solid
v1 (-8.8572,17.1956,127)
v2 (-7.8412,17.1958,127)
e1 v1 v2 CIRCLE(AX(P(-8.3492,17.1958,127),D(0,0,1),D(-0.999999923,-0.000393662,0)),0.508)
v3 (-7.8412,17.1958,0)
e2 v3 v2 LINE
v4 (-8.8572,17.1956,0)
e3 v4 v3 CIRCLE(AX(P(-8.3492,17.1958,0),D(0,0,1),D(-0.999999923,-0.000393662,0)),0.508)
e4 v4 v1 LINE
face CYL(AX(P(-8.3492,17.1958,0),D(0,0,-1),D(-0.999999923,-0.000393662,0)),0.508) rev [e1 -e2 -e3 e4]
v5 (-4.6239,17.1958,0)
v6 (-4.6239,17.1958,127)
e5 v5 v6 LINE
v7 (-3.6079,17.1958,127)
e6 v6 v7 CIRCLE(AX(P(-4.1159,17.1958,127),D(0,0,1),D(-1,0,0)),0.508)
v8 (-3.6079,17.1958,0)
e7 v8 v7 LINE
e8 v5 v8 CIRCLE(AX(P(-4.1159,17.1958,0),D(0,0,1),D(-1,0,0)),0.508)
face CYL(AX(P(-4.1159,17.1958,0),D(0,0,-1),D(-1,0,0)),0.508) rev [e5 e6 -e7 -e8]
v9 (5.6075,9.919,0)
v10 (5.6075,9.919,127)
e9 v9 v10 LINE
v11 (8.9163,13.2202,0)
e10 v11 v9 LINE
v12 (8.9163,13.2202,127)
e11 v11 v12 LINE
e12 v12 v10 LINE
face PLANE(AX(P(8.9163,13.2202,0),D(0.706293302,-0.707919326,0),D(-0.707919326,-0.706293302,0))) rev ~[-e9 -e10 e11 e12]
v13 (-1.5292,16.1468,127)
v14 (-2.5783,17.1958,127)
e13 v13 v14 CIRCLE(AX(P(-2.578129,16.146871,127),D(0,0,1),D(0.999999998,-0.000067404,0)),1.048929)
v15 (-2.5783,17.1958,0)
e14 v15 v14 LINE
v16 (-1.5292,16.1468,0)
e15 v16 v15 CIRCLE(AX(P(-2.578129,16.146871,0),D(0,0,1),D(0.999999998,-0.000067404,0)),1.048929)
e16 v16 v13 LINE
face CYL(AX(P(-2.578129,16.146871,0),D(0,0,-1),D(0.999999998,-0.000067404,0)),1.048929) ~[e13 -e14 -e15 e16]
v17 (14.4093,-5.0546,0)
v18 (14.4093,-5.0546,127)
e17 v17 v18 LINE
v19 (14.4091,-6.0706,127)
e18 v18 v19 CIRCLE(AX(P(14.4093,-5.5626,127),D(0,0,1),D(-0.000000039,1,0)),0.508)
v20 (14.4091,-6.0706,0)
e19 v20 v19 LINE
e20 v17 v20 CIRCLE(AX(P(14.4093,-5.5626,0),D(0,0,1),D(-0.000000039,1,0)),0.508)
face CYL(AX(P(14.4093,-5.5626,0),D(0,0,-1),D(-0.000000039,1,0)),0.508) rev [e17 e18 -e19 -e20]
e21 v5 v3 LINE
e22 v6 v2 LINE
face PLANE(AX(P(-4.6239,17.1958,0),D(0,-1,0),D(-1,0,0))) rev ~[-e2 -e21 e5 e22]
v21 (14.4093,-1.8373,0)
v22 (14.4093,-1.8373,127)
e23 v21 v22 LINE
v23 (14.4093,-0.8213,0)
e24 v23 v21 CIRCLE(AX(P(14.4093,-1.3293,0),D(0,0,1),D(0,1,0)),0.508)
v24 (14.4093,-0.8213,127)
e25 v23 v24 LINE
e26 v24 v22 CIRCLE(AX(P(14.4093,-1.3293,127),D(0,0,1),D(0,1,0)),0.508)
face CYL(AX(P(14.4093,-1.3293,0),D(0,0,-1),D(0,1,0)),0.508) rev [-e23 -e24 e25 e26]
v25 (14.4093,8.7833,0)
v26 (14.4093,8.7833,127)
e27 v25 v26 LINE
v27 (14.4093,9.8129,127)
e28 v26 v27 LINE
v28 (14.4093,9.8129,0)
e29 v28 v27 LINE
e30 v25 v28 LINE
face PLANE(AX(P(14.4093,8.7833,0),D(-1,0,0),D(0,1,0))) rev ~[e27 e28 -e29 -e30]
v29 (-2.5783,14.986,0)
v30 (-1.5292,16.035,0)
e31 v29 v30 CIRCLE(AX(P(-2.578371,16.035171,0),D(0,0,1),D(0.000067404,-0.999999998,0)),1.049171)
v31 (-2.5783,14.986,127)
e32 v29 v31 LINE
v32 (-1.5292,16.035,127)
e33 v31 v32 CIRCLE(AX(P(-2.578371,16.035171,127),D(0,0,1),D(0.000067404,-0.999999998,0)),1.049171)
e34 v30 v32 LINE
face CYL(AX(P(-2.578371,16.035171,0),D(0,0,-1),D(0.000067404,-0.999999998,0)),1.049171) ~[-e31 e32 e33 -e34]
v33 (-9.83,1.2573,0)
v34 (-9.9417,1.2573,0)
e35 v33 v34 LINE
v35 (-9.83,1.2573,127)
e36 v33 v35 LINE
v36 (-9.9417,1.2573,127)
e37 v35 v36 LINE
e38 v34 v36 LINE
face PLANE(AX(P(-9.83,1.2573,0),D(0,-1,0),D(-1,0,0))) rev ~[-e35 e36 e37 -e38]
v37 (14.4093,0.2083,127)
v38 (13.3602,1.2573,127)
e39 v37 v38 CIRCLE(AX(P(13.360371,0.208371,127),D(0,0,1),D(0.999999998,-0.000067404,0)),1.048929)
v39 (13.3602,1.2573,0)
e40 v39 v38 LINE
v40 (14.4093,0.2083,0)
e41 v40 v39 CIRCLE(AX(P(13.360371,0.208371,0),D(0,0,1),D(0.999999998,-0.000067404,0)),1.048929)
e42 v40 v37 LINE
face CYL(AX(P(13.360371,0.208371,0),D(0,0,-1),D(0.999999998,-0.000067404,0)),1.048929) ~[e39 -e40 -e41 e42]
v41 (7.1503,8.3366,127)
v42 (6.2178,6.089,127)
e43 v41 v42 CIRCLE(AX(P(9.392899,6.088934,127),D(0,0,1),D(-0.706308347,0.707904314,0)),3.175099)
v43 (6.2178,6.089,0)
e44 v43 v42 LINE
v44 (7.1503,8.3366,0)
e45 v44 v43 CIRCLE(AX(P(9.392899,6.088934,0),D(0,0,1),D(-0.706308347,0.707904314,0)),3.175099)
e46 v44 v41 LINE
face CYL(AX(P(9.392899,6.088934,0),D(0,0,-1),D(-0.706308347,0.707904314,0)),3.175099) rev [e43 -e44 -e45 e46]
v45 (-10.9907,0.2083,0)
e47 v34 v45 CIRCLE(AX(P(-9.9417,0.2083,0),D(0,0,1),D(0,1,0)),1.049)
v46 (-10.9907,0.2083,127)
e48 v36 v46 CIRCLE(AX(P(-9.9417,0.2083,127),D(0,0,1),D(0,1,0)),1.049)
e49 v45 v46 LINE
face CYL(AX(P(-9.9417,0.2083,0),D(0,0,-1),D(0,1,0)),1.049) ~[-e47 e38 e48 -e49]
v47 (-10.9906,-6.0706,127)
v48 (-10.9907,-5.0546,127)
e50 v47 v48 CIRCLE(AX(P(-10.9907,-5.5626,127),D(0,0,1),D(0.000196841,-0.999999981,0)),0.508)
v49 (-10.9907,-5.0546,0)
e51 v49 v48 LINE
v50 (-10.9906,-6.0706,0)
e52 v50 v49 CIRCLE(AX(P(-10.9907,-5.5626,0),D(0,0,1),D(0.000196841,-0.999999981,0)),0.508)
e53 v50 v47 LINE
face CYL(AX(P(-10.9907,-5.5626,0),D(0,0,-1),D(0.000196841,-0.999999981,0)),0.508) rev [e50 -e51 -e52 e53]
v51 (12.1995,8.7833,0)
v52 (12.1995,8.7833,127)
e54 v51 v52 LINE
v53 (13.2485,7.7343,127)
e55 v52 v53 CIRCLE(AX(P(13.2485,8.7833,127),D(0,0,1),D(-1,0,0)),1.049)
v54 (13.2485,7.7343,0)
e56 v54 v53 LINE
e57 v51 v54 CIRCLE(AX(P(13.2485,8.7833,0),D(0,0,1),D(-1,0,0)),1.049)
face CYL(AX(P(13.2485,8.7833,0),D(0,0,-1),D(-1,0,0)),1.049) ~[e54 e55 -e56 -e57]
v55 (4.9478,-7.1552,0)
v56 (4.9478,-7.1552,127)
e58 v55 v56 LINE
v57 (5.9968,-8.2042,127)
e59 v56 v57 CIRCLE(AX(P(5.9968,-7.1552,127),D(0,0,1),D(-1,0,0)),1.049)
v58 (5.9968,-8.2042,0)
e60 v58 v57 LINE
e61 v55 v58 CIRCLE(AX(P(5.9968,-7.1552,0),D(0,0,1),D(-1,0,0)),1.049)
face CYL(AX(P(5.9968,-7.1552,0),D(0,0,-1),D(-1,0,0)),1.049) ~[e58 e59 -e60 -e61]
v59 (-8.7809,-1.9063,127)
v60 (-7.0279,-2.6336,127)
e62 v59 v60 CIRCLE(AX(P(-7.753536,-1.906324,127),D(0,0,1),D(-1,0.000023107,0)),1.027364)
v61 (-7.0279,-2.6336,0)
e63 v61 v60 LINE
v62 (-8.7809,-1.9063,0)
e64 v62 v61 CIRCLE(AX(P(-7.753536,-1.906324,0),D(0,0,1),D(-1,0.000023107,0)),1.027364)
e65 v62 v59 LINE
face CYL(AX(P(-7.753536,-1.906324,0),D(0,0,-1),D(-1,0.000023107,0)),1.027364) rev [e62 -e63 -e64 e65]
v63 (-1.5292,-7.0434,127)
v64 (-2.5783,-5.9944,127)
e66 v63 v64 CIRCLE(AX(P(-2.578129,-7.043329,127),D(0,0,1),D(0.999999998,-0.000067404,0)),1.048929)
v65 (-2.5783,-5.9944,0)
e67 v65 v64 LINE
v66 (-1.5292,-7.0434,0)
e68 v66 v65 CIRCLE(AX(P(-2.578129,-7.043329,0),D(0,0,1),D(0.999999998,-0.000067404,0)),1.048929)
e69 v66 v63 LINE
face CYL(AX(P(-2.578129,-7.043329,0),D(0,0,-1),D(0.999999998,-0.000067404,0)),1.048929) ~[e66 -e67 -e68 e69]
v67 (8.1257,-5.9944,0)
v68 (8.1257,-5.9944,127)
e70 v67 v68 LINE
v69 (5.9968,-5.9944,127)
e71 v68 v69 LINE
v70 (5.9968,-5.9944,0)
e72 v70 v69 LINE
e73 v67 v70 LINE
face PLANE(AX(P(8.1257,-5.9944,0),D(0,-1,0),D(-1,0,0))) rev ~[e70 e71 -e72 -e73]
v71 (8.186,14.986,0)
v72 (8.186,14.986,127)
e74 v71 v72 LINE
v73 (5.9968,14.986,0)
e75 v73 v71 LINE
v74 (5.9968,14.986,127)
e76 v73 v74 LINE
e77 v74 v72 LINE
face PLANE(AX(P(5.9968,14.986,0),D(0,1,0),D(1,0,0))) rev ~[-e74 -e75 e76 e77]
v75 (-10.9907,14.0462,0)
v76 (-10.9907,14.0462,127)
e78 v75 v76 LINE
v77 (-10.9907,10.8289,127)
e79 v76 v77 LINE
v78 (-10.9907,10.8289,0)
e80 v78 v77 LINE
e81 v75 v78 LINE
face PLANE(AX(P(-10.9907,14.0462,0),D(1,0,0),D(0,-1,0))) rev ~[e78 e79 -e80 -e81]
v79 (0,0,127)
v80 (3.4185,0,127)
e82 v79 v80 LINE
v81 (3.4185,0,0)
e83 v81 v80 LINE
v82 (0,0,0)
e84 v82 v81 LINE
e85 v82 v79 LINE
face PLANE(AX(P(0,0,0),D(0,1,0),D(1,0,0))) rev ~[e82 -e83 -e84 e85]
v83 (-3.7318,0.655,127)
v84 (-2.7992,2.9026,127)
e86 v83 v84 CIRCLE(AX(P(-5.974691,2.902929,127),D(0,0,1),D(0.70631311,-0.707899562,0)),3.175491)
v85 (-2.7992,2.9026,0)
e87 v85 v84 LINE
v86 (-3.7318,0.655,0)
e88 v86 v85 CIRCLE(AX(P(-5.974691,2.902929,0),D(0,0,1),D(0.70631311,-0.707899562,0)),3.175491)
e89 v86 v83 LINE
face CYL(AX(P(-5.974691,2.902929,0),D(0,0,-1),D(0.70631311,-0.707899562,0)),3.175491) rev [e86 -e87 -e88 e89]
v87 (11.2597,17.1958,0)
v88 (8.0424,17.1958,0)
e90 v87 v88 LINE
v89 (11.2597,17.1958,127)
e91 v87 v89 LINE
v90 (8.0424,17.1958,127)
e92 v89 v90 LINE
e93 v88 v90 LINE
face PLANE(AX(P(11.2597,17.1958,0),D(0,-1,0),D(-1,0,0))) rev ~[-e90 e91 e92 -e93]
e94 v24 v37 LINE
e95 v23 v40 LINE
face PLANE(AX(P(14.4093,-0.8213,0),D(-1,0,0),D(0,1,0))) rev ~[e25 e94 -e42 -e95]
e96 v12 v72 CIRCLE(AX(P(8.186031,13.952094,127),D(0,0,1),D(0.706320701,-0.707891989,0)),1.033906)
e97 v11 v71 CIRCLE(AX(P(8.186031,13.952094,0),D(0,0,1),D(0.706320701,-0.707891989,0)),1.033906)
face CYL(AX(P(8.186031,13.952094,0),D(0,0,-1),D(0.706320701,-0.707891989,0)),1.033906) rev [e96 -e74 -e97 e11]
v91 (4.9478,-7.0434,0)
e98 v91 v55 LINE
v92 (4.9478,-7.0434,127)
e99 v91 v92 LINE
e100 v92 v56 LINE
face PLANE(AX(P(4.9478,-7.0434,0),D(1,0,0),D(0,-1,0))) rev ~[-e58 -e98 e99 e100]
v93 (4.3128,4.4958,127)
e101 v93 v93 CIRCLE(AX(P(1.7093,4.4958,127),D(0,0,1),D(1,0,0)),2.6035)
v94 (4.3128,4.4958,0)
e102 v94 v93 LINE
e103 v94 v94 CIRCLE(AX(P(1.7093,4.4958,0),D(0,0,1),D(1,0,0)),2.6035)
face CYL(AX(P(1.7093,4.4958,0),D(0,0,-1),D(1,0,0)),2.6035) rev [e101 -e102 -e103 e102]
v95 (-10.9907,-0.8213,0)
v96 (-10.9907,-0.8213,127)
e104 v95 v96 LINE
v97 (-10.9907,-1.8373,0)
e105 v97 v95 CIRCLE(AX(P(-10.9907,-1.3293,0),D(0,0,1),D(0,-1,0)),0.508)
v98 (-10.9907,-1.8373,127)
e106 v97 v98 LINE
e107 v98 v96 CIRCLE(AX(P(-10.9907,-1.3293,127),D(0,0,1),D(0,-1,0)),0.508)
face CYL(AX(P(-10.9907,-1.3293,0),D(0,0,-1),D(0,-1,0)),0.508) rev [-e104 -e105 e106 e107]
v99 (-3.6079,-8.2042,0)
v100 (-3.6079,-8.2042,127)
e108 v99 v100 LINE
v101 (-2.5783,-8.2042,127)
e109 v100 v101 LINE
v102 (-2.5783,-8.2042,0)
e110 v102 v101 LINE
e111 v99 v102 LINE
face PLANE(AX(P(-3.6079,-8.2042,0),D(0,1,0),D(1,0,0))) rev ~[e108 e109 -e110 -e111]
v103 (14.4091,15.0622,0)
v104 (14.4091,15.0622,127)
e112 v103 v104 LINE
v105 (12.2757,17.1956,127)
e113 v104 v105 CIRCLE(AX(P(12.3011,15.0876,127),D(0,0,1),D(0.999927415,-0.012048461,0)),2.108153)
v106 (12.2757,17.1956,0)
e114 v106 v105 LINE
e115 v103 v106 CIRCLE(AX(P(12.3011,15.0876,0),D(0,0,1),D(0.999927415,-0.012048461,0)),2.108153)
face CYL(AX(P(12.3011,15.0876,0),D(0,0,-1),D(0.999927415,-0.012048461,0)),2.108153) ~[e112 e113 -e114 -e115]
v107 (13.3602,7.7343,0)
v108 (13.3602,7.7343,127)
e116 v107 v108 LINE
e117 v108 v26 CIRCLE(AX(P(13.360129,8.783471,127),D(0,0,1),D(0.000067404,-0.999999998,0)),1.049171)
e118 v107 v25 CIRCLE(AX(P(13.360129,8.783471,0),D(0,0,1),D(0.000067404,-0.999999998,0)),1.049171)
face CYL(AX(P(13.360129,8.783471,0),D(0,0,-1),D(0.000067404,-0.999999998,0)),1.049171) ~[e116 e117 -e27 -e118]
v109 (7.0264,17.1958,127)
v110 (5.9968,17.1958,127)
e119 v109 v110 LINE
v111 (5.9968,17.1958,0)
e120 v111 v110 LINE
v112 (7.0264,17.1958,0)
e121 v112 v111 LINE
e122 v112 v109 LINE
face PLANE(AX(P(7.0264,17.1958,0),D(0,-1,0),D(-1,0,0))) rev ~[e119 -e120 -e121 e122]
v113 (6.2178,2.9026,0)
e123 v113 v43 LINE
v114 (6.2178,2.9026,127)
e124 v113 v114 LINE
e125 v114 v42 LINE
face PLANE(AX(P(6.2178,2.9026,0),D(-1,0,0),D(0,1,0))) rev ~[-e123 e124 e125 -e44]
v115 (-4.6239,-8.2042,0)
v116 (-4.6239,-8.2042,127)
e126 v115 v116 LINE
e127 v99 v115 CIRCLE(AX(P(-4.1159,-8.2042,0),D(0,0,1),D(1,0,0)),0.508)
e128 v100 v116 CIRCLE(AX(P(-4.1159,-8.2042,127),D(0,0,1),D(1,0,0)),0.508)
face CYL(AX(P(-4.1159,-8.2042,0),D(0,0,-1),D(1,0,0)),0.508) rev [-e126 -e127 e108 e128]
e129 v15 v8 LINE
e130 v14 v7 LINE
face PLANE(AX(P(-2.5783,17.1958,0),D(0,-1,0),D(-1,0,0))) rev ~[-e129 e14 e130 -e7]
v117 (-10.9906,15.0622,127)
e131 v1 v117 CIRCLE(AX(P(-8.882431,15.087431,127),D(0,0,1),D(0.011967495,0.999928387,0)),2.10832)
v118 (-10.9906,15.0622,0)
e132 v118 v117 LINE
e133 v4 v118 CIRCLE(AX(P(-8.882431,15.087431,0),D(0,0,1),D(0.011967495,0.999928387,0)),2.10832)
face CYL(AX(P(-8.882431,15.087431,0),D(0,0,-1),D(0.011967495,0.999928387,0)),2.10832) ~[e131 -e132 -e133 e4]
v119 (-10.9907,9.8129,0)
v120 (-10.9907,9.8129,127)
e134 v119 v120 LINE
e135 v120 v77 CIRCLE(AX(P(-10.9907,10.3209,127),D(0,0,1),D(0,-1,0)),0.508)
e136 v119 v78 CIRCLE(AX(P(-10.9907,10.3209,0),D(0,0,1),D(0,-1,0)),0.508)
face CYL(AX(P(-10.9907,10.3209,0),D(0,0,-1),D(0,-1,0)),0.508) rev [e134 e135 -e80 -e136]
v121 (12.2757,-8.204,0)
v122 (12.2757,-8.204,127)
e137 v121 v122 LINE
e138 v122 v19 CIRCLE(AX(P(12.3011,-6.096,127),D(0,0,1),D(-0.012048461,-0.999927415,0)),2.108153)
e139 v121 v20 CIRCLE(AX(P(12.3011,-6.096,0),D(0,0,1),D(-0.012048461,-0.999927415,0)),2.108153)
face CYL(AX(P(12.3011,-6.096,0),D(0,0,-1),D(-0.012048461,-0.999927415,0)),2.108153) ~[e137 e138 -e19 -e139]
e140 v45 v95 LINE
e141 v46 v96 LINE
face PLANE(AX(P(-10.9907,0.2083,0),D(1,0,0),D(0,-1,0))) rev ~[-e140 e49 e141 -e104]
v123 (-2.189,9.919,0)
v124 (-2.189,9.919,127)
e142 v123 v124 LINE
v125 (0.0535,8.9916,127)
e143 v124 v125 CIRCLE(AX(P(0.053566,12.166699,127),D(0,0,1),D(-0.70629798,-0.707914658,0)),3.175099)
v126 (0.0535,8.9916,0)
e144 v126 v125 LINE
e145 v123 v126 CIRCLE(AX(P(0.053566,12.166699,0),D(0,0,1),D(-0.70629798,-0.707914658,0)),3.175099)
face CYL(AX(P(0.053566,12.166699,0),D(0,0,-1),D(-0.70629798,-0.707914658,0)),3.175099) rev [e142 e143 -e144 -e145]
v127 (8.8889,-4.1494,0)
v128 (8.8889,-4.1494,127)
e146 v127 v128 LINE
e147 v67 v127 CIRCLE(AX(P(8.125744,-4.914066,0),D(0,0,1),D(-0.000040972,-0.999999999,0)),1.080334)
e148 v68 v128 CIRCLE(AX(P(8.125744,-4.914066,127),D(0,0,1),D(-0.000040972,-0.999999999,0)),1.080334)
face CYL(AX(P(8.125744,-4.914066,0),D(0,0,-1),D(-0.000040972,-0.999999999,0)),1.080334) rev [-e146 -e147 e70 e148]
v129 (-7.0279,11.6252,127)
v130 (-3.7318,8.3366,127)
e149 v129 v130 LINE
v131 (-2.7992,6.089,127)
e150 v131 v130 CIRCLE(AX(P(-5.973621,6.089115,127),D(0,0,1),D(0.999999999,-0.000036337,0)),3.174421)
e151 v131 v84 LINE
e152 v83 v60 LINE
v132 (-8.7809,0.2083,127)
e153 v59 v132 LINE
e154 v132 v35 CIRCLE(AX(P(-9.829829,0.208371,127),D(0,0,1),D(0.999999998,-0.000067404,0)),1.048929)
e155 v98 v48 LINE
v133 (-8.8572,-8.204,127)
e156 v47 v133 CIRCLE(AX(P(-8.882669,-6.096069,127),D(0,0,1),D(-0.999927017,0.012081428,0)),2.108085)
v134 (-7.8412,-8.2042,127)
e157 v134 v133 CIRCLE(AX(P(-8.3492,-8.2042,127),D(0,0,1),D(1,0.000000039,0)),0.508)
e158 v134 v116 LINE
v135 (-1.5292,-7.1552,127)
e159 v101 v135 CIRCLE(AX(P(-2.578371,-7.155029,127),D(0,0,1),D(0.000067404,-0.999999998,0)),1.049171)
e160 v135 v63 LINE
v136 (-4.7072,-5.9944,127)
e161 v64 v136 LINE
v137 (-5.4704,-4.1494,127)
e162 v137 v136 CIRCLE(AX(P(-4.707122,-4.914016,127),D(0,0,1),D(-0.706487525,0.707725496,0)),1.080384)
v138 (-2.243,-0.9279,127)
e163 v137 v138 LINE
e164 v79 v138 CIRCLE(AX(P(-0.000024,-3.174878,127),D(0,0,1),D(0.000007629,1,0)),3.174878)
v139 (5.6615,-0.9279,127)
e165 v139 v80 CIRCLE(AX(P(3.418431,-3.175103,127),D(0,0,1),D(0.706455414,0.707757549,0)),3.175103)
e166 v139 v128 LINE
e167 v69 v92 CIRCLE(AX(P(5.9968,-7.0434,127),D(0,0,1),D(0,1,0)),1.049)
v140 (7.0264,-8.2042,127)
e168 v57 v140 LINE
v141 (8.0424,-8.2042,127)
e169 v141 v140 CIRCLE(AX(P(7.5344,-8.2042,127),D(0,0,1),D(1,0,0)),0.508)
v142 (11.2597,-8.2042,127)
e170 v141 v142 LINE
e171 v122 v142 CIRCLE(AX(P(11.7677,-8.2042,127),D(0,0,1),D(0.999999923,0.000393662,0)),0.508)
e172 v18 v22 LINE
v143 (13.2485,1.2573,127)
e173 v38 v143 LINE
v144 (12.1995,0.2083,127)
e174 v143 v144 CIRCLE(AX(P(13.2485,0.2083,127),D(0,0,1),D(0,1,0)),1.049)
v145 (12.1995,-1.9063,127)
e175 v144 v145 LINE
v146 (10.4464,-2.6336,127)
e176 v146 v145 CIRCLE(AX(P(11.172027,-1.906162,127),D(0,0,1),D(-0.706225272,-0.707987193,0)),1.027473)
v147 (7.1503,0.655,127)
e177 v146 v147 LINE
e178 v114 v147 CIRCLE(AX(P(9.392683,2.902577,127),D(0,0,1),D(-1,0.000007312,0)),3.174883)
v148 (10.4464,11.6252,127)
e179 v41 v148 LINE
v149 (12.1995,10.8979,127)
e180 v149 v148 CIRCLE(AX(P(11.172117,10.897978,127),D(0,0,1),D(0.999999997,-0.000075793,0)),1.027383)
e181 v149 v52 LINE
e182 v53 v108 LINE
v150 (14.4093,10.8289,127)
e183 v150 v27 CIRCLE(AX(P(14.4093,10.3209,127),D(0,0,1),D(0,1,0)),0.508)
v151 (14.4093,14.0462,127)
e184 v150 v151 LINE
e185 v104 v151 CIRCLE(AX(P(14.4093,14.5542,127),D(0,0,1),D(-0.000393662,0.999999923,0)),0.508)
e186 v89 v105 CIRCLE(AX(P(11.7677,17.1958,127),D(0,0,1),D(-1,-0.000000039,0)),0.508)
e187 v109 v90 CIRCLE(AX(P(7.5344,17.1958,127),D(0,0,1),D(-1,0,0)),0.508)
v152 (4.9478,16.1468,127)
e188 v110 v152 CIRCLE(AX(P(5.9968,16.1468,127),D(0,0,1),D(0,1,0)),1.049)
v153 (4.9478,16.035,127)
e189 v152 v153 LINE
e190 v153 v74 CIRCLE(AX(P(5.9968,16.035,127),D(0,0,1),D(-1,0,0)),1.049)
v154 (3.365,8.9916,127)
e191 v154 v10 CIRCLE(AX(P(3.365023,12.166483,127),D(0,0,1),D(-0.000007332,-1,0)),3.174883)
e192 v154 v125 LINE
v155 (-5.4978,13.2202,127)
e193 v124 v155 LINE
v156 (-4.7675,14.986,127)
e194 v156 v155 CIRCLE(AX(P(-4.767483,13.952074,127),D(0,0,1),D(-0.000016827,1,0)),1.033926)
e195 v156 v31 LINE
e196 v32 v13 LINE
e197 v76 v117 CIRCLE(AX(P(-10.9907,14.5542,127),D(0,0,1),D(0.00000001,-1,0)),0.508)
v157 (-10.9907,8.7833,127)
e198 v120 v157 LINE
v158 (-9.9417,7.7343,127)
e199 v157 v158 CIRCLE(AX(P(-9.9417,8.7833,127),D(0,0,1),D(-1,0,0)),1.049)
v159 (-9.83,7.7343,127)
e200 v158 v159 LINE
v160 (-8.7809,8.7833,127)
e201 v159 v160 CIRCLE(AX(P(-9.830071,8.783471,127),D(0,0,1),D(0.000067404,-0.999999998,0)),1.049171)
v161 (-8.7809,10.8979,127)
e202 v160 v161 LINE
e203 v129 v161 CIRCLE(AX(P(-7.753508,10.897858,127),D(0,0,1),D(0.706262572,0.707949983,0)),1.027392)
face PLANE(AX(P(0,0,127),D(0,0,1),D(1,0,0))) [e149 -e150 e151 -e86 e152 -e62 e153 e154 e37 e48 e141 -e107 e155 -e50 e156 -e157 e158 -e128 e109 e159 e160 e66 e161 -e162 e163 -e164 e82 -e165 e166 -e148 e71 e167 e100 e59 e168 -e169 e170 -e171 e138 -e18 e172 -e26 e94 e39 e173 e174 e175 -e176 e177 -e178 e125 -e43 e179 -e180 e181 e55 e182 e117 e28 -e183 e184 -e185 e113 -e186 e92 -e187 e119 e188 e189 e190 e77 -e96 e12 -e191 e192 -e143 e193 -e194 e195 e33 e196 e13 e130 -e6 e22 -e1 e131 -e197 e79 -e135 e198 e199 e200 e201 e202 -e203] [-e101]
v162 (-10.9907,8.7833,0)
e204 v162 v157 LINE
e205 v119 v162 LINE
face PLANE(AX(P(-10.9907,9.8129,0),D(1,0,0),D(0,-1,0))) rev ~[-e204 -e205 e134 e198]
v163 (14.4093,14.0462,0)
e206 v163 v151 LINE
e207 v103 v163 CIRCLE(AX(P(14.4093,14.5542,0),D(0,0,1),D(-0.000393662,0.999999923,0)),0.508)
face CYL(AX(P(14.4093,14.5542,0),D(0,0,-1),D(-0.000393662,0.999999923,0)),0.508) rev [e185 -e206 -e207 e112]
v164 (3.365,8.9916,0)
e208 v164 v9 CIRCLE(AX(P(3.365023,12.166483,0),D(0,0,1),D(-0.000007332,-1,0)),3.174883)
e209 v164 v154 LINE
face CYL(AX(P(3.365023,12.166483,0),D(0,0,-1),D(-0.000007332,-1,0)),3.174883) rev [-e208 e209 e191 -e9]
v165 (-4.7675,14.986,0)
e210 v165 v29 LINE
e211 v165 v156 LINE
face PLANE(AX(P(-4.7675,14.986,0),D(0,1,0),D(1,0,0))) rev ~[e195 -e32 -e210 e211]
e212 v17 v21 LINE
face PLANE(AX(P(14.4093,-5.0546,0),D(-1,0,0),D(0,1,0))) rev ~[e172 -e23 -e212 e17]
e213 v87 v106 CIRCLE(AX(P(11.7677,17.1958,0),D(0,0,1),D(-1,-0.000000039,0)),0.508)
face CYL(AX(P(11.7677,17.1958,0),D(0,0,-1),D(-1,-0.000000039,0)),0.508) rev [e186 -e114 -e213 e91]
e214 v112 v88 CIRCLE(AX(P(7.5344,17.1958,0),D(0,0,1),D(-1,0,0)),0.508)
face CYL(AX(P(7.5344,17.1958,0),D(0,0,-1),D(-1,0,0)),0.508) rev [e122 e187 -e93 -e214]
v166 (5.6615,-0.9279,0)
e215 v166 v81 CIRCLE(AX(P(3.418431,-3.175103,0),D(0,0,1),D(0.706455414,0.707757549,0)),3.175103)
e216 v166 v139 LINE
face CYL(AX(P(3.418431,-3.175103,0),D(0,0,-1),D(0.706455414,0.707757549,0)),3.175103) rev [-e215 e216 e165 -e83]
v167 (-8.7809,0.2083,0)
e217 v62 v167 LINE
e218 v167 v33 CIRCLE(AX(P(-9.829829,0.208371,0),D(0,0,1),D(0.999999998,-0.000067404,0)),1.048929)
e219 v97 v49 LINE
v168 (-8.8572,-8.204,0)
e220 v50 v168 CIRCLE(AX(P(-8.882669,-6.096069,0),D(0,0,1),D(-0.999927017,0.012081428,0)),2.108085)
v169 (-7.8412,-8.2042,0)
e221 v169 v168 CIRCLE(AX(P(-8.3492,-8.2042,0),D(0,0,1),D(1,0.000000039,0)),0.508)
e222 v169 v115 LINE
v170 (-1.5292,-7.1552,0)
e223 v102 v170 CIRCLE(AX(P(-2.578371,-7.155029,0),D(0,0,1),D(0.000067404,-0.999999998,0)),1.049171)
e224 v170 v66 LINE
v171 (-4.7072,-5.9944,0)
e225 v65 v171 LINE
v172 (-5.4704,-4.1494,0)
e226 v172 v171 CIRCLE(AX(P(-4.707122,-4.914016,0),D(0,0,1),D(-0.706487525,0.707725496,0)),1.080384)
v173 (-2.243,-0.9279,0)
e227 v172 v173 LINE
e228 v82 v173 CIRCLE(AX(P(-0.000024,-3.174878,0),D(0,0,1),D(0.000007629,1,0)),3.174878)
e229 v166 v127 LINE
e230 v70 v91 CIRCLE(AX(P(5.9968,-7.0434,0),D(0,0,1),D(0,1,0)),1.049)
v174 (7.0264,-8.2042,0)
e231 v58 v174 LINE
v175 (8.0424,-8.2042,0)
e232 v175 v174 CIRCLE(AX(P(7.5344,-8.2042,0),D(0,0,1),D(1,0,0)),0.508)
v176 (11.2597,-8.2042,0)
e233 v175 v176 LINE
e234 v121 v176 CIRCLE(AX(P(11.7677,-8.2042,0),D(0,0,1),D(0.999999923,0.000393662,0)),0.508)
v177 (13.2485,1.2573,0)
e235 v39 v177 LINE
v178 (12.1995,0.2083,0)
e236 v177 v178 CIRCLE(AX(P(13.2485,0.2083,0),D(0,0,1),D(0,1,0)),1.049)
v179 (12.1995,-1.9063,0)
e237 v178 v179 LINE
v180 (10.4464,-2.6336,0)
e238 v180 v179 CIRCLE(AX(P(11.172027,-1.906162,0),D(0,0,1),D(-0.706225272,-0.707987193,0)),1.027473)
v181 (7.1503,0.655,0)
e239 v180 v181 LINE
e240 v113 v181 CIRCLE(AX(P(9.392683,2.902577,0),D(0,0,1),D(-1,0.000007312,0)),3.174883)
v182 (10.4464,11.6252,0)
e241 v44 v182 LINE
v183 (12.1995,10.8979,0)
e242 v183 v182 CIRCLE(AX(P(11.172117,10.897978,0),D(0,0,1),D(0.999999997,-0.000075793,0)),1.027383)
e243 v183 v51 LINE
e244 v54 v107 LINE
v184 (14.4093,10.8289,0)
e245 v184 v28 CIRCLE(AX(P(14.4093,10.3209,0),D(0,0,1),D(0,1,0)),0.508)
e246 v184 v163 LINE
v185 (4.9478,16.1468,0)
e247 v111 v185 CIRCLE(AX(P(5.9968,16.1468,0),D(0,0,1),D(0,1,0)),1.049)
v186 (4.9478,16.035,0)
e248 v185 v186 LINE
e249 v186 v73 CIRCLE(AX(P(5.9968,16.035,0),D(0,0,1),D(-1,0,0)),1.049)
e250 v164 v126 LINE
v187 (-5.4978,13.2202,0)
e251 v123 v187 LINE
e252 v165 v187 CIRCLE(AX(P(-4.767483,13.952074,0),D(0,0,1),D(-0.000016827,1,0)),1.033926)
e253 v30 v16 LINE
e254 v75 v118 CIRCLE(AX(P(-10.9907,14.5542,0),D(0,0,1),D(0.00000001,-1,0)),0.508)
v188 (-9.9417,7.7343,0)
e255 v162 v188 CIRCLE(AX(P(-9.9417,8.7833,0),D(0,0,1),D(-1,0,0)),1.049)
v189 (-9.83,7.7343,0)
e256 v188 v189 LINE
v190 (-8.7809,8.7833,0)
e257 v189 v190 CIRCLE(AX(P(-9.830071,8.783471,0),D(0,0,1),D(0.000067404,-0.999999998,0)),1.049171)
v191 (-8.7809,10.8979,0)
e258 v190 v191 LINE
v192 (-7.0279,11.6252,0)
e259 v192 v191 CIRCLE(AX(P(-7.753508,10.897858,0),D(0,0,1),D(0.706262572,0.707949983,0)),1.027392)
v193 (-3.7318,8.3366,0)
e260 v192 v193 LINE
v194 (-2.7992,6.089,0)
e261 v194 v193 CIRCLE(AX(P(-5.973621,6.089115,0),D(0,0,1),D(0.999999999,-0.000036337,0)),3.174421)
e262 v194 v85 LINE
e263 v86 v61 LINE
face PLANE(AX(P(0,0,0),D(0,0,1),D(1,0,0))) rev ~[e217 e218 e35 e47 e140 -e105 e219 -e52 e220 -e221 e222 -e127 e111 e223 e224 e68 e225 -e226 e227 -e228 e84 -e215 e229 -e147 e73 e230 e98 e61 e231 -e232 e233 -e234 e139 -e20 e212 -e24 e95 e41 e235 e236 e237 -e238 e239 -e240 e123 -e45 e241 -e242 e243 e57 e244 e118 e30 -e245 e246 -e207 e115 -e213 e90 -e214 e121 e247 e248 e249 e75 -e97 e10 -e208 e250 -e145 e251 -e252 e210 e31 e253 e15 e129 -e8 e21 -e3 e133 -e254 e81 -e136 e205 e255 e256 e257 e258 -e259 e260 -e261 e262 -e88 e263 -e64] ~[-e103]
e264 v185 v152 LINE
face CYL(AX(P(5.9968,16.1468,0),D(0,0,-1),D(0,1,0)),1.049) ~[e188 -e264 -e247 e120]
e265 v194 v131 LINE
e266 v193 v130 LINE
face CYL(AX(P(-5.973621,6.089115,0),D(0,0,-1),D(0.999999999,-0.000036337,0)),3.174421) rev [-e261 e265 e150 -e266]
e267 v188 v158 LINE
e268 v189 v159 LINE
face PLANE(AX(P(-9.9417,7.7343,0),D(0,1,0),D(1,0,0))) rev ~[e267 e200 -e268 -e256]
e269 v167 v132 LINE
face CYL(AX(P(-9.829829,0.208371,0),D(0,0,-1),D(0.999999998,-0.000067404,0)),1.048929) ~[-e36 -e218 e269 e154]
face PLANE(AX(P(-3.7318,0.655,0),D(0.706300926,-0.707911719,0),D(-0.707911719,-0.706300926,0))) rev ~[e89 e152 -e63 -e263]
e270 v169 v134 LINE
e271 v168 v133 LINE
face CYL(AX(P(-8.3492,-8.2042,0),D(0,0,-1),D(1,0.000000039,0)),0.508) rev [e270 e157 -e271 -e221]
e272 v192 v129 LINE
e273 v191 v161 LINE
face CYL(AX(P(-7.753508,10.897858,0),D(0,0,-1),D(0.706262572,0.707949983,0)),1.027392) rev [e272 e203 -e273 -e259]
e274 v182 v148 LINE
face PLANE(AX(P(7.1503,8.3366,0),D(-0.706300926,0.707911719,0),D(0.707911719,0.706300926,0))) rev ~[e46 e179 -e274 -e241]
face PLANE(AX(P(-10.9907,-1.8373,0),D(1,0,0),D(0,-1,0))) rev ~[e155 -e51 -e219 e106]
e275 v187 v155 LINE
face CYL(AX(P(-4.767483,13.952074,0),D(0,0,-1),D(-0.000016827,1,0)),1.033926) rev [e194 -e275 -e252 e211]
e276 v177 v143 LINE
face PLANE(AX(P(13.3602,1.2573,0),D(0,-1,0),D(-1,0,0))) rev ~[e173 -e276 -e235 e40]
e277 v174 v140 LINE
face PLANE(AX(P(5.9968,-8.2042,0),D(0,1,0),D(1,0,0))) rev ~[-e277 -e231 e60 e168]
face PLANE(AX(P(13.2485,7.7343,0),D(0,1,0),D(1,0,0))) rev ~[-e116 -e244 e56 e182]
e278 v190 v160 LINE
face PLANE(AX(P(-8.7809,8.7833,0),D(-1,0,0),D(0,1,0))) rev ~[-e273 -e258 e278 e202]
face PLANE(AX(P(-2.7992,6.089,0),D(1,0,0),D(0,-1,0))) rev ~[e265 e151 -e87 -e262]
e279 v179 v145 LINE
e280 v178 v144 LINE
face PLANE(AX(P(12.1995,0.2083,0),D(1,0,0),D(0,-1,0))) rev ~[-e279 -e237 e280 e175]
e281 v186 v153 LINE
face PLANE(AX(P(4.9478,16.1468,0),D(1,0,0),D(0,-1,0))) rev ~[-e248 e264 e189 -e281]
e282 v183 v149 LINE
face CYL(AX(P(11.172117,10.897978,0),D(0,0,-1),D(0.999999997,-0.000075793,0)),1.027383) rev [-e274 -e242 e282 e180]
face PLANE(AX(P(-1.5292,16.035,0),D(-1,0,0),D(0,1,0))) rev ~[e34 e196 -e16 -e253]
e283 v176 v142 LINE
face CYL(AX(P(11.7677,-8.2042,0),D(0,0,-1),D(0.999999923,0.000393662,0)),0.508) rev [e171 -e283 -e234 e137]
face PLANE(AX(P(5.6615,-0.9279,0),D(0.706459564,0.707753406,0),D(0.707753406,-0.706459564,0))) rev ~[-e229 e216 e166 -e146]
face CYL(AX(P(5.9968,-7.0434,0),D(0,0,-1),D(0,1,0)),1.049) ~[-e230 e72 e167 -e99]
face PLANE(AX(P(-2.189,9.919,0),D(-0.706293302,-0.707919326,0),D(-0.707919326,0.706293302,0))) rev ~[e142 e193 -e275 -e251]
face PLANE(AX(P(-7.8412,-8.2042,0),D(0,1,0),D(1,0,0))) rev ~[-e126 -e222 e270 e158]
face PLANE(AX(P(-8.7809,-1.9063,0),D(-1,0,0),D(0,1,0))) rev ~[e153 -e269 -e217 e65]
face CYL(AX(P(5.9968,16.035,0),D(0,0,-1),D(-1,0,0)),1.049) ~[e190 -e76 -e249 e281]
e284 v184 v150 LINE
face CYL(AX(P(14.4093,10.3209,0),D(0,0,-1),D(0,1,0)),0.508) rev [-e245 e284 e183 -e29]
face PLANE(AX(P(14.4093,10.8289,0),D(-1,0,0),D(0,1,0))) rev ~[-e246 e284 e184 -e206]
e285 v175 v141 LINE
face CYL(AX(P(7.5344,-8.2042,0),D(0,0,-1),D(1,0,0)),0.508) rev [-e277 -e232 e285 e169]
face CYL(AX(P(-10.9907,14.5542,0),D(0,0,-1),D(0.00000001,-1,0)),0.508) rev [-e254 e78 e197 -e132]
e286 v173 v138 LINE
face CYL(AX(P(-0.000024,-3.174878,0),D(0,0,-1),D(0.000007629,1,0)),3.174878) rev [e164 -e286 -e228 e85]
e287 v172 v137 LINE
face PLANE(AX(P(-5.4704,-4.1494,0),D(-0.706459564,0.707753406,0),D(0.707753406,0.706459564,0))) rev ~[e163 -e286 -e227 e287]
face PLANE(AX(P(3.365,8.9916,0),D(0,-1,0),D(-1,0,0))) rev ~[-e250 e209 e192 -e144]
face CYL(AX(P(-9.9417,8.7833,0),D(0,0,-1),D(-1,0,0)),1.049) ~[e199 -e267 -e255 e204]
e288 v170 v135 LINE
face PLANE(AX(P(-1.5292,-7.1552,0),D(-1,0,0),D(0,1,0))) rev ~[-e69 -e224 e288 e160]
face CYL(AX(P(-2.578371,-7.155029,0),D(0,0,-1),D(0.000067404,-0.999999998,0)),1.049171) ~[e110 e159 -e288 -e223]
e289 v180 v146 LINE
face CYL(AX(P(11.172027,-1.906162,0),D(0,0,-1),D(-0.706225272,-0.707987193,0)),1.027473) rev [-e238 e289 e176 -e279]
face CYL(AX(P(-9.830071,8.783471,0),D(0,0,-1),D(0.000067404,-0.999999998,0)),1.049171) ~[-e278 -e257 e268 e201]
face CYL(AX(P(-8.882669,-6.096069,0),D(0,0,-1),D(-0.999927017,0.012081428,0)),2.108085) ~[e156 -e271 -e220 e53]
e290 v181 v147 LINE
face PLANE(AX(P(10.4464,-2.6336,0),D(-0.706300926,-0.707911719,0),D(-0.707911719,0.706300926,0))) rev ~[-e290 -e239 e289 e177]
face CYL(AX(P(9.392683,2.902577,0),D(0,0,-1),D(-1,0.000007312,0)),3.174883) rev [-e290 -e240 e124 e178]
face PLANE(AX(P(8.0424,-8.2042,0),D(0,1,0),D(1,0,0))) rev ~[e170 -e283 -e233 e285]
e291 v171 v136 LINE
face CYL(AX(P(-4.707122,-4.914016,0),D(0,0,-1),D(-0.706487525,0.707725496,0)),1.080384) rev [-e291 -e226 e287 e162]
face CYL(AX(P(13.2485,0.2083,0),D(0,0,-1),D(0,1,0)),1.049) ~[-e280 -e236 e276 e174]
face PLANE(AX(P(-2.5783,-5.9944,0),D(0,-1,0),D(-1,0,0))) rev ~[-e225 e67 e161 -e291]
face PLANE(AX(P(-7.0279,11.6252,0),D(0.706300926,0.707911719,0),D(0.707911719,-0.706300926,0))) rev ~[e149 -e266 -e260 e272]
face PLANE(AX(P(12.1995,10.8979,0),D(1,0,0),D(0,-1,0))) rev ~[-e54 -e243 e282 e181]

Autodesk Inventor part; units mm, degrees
ref_plane "YZ Plane" through (0, 0, 0) normal (1, 0, 0) x (0, 1, 0)
ref_plane "XZ Plane" through (0, 0, 0) normal (0, 1, 0) x (-1, 0, 0)
ref_plane "XY Plane" through (0, 0, 0) normal (0, 0, 1) x (1, 0, 0)
sketch "Sketch1" plane through (0, 0, 0) normal (0, 0, 1) x (1, 0, 0)
  arc A0 (-5.4704, -4.1494) -> (-4.7072, -5.9944) centre (-4.7072, -4.914) ccw
  line L0 (-5.4704, -4.1494) -> (-2.243, -0.9279)
  arc A1 (0, 0) -> (-2.243, -0.9279) centre (0, -3.175) ccw
  line L1 (0, 0) -> (3.4185, 0)
  arc A2 (5.6615, -0.9279) -> (3.4185, 0) centre (3.4185, -3.175) ccw
  line L2 (5.6615, -0.9279) -> (8.8889, -4.1494)
  arc A3 (8.1257, -5.9944) -> (8.8889, -4.1494) centre (8.1257, -4.914) ccw
  line L3 (8.1257, -5.9944) -> (5.9968, -5.9944)
  arc A4 (5.9968, -5.9944) -> (4.9478, -7.0434) centre (5.9968, -7.0434) ccw
  line L4 (4.9478, -7.0434) -> (4.9478, -7.1552)
  arc A5 (4.9478, -7.1552) -> (5.9968, -8.2042) centre (5.9968, -7.1552) ccw
  line L5 (5.9968, -8.2042) -> (7.0264, -8.2042)
  arc A6 (8.0424, -8.2042) -> (7.0264, -8.2042) centre (7.5344, -8.2042) ccw
  line L6 (8.0424, -8.2042) -> (11.2597, -8.2042)
  arc A7 (12.2757, -8.204) -> (11.2597, -8.2042) centre (11.7677, -8.2042) ccw
  arc A8 (12.2757, -8.204) -> (14.4091, -6.0706) centre (12.3011, -6.096) ccw
  arc A9 (14.4093, -5.0546) -> (14.4091, -6.0706) centre (14.4093, -5.5626) ccw
  line L7 (14.4093, -5.0546) -> (14.4093, -1.8373)
  arc A10 (14.4093, -0.8213) -> (14.4093, -1.8373) centre (14.4093, -1.3293) ccw
  line L8 (14.4093, -0.8213) -> (14.4093, 0.2083)
  arc A11 (14.4093, 0.2083) -> (13.3602, 1.2573) centre (13.3602, 0.2083) ccw
  line L9 (13.3602, 1.2573) -> (13.2485, 1.2573)
  arc A12 (13.2485, 1.2573) -> (12.1995, 0.2083) centre (13.2485, 0.2083) ccw
  line L10 (12.1995, 0.2083) -> (12.1995, -1.9063)
  arc A13 (10.4464, -2.6336) -> (12.1995, -1.9063) centre (11.172, -1.9063) ccw
  line L11 (10.4464, -2.6336) -> (7.1503, 0.655)
  arc A14 (6.2178, 2.9026) -> (7.1503, 0.655) centre (9.3928, 2.9026) ccw
  line L12 (6.2178, 2.9026) -> (6.2178, 6.089)
  arc A15 (7.1503, 8.3366) -> (6.2178, 6.089) centre (9.3928, 6.089) ccw
  line L13 (7.1503, 8.3366) -> (10.4464, 11.6252)
  arc A16 (12.1995, 10.8979) -> (10.4464, 11.6252) centre (11.172, 10.8979) ccw
  line L14 (12.1995, 10.8979) -> (12.1995, 8.7833)
  arc A17 (12.1995, 8.7833) -> (13.2485, 7.7343) centre (13.2485, 8.7833) ccw
  line L15 (13.2485, 7.7343) -> (13.3602, 7.7343)
  arc A18 (13.3602, 7.7343) -> (14.4093, 8.7833) centre (13.3602, 8.7833) ccw
  line L16 (14.4093, 8.7833) -> (14.4093, 9.8129)
  arc A19 (14.4093, 10.8289) -> (14.4093, 9.8129) centre (14.4093, 10.3209) ccw
  line L17 (14.4093, 10.8289) -> (14.4093, 14.0462)
  arc A20 (14.4091, 15.0622) -> (14.4093, 14.0462) centre (14.4093, 14.5542) ccw
  arc A21 (14.4091, 15.0622) -> (12.2757, 17.1956) centre (12.3011, 15.0876) ccw
  arc A22 (11.2597, 17.1958) -> (12.2757, 17.1956) centre (11.7677, 17.1958) ccw
  line L18 (11.2597, 17.1958) -> (8.0424, 17.1958)
  arc A23 (7.0264, 17.1958) -> (8.0424, 17.1958) centre (7.5344, 17.1958) ccw
  line L19 (7.0264, 17.1958) -> (5.9968, 17.1958)
  arc A24 (5.9968, 17.1958) -> (4.9478, 16.1468) centre (5.9968, 16.1468) ccw
  line L20 (4.9478, 16.1468) -> (4.9478, 16.035)
  arc A25 (4.9478, 16.035) -> (5.9968, 14.986) centre (5.9968, 16.035) ccw
  line L21 (5.9968, 14.986) -> (8.186, 14.986)
  arc A26 (8.9163, 13.2202) -> (8.186, 14.986) centre (8.186, 13.9521) ccw
  line L22 (8.9163, 13.2202) -> (5.6075, 9.919)
  arc A27 (3.365, 8.9916) -> (5.6075, 9.919) centre (3.365, 12.1666) ccw
  line L23 (3.365, 8.9916) -> (0.0535, 8.9916)
  arc A28 (-2.189, 9.919) -> (0.0535, 8.9916) centre (0.0535, 12.1666) ccw
  line L24 (-2.189, 9.919) -> (-5.4978, 13.2202)
  arc A29 (-4.7675, 14.986) -> (-5.4978, 13.2202) centre (-4.7675, 13.9521) ccw
  line L25 (-4.7675, 14.986) -> (-2.5783, 14.986)
  arc A30 (-2.5783, 14.986) -> (-1.5292, 16.035) centre (-2.5783, 16.035) ccw
  line L26 (-1.5292, 16.035) -> (-1.5292, 16.1468)
  arc A31 (-1.5292, 16.1468) -> (-2.5783, 17.1958) centre (-2.5783, 16.1468) ccw
  line L27 (-2.5783, 17.1958) -> (-3.6079, 17.1958)
  arc A32 (-4.6239, 17.1958) -> (-3.6079, 17.1958) centre (-4.1159, 17.1958) ccw
  line L28 (-4.6239, 17.1958) -> (-7.8412, 17.1958)
  arc A33 (-8.8572, 17.1956) -> (-7.8412, 17.1958) centre (-8.3492, 17.1958) ccw
  arc A34 (-8.8572, 17.1956) -> (-10.9906, 15.0622) centre (-8.8825, 15.0876) ccw
  arc A35 (-10.9907, 14.0462) -> (-10.9906, 15.0622) centre (-10.9907, 14.5542) ccw
  line L29 (-10.9907, 14.0462) -> (-10.9907, 10.8289)
  arc A36 (-10.9907, 9.8129) -> (-10.9907, 10.8289) centre (-10.9907, 10.3209) ccw
  line L30 (-10.9907, 9.8129) -> (-10.9907, 8.7833)
  arc A37 (-10.9907, 8.7833) -> (-9.9417, 7.7343) centre (-9.9417, 8.7833) ccw
  line L31 (-9.9417, 7.7343) -> (-9.83, 7.7343)
  arc A38 (-9.83, 7.7343) -> (-8.7809, 8.7833) centre (-9.83, 8.7833) ccw
  line L32 (-8.7809, 8.7833) -> (-8.7809, 10.8979)
  arc A39 (-7.0279, 11.6252) -> (-8.7809, 10.8979) centre (-7.7535, 10.8979) ccw
  line L33 (-7.0279, 11.6252) -> (-3.7318, 8.3366)
  arc A40 (-2.7992, 6.089) -> (-3.7318, 8.3366) centre (-5.9742, 6.089) ccw
  line L34 (-2.7992, 6.089) -> (-2.7992, 2.9026)
  arc A41 (-3.7318, 0.655) -> (-2.7992, 2.9026) centre (-5.9742, 2.9026) ccw
  line L35 (-3.7318, 0.655) -> (-7.0279, -2.6336)
  arc A42 (-8.7809, -1.9063) -> (-7.0279, -2.6336) centre (-7.7535, -1.9063) ccw
  line L36 (-8.7809, -1.9063) -> (-8.7809, 0.2083)
  arc A43 (-8.7809, 0.2083) -> (-9.83, 1.2573) centre (-9.83, 0.2083) ccw
  line L37 (-9.83, 1.2573) -> (-9.9417, 1.2573)
  arc A44 (-9.9417, 1.2573) -> (-10.9907, 0.2083) centre (-9.9417, 0.2083) ccw
  line L38 (-10.9907, 0.2083) -> (-10.9907, -0.8213)
  arc A45 (-10.9907, -1.8373) -> (-10.9907, -0.8213) centre (-10.9907, -1.3293) ccw
  line L39 (-10.9907, -1.8373) -> (-10.9907, -5.0546)
  arc A46 (-10.9906, -6.0706) -> (-10.9907, -5.0546) centre (-10.9907, -5.5626) ccw
  arc A47 (-10.9906, -6.0706) -> (-8.8572, -8.204) centre (-8.8825, -6.096) ccw
  arc A48 (-7.8412, -8.2042) -> (-8.8572, -8.204) centre (-8.3492, -8.2042) ccw
  line L40 (-7.8412, -8.2042) -> (-4.6239, -8.2042)
  arc A49 (-3.6079, -8.2042) -> (-4.6239, -8.2042) centre (-4.1159, -8.2042) ccw
  line L41 (-3.6079, -8.2042) -> (-2.5783, -8.2042)
  arc A50 (-2.5783, -8.2042) -> (-1.5292, -7.1552) centre (-2.5783, -7.1552) ccw
  line L42 (-1.5292, -7.1552) -> (-1.5292, -7.0434)
  arc A51 (-1.5292, -7.0434) -> (-2.5783, -5.9944) centre (-2.5783, -7.0434) ccw
  line L43 (-2.5783, -5.9944) -> (-4.7072, -5.9944)
  circle A52 centre (1.7093, 4.4958) radius 2.6035
extrude "Extrusion1" add sketch "Sketch1" along normal blind 127
properties part number "5in 1x1 T slot"
